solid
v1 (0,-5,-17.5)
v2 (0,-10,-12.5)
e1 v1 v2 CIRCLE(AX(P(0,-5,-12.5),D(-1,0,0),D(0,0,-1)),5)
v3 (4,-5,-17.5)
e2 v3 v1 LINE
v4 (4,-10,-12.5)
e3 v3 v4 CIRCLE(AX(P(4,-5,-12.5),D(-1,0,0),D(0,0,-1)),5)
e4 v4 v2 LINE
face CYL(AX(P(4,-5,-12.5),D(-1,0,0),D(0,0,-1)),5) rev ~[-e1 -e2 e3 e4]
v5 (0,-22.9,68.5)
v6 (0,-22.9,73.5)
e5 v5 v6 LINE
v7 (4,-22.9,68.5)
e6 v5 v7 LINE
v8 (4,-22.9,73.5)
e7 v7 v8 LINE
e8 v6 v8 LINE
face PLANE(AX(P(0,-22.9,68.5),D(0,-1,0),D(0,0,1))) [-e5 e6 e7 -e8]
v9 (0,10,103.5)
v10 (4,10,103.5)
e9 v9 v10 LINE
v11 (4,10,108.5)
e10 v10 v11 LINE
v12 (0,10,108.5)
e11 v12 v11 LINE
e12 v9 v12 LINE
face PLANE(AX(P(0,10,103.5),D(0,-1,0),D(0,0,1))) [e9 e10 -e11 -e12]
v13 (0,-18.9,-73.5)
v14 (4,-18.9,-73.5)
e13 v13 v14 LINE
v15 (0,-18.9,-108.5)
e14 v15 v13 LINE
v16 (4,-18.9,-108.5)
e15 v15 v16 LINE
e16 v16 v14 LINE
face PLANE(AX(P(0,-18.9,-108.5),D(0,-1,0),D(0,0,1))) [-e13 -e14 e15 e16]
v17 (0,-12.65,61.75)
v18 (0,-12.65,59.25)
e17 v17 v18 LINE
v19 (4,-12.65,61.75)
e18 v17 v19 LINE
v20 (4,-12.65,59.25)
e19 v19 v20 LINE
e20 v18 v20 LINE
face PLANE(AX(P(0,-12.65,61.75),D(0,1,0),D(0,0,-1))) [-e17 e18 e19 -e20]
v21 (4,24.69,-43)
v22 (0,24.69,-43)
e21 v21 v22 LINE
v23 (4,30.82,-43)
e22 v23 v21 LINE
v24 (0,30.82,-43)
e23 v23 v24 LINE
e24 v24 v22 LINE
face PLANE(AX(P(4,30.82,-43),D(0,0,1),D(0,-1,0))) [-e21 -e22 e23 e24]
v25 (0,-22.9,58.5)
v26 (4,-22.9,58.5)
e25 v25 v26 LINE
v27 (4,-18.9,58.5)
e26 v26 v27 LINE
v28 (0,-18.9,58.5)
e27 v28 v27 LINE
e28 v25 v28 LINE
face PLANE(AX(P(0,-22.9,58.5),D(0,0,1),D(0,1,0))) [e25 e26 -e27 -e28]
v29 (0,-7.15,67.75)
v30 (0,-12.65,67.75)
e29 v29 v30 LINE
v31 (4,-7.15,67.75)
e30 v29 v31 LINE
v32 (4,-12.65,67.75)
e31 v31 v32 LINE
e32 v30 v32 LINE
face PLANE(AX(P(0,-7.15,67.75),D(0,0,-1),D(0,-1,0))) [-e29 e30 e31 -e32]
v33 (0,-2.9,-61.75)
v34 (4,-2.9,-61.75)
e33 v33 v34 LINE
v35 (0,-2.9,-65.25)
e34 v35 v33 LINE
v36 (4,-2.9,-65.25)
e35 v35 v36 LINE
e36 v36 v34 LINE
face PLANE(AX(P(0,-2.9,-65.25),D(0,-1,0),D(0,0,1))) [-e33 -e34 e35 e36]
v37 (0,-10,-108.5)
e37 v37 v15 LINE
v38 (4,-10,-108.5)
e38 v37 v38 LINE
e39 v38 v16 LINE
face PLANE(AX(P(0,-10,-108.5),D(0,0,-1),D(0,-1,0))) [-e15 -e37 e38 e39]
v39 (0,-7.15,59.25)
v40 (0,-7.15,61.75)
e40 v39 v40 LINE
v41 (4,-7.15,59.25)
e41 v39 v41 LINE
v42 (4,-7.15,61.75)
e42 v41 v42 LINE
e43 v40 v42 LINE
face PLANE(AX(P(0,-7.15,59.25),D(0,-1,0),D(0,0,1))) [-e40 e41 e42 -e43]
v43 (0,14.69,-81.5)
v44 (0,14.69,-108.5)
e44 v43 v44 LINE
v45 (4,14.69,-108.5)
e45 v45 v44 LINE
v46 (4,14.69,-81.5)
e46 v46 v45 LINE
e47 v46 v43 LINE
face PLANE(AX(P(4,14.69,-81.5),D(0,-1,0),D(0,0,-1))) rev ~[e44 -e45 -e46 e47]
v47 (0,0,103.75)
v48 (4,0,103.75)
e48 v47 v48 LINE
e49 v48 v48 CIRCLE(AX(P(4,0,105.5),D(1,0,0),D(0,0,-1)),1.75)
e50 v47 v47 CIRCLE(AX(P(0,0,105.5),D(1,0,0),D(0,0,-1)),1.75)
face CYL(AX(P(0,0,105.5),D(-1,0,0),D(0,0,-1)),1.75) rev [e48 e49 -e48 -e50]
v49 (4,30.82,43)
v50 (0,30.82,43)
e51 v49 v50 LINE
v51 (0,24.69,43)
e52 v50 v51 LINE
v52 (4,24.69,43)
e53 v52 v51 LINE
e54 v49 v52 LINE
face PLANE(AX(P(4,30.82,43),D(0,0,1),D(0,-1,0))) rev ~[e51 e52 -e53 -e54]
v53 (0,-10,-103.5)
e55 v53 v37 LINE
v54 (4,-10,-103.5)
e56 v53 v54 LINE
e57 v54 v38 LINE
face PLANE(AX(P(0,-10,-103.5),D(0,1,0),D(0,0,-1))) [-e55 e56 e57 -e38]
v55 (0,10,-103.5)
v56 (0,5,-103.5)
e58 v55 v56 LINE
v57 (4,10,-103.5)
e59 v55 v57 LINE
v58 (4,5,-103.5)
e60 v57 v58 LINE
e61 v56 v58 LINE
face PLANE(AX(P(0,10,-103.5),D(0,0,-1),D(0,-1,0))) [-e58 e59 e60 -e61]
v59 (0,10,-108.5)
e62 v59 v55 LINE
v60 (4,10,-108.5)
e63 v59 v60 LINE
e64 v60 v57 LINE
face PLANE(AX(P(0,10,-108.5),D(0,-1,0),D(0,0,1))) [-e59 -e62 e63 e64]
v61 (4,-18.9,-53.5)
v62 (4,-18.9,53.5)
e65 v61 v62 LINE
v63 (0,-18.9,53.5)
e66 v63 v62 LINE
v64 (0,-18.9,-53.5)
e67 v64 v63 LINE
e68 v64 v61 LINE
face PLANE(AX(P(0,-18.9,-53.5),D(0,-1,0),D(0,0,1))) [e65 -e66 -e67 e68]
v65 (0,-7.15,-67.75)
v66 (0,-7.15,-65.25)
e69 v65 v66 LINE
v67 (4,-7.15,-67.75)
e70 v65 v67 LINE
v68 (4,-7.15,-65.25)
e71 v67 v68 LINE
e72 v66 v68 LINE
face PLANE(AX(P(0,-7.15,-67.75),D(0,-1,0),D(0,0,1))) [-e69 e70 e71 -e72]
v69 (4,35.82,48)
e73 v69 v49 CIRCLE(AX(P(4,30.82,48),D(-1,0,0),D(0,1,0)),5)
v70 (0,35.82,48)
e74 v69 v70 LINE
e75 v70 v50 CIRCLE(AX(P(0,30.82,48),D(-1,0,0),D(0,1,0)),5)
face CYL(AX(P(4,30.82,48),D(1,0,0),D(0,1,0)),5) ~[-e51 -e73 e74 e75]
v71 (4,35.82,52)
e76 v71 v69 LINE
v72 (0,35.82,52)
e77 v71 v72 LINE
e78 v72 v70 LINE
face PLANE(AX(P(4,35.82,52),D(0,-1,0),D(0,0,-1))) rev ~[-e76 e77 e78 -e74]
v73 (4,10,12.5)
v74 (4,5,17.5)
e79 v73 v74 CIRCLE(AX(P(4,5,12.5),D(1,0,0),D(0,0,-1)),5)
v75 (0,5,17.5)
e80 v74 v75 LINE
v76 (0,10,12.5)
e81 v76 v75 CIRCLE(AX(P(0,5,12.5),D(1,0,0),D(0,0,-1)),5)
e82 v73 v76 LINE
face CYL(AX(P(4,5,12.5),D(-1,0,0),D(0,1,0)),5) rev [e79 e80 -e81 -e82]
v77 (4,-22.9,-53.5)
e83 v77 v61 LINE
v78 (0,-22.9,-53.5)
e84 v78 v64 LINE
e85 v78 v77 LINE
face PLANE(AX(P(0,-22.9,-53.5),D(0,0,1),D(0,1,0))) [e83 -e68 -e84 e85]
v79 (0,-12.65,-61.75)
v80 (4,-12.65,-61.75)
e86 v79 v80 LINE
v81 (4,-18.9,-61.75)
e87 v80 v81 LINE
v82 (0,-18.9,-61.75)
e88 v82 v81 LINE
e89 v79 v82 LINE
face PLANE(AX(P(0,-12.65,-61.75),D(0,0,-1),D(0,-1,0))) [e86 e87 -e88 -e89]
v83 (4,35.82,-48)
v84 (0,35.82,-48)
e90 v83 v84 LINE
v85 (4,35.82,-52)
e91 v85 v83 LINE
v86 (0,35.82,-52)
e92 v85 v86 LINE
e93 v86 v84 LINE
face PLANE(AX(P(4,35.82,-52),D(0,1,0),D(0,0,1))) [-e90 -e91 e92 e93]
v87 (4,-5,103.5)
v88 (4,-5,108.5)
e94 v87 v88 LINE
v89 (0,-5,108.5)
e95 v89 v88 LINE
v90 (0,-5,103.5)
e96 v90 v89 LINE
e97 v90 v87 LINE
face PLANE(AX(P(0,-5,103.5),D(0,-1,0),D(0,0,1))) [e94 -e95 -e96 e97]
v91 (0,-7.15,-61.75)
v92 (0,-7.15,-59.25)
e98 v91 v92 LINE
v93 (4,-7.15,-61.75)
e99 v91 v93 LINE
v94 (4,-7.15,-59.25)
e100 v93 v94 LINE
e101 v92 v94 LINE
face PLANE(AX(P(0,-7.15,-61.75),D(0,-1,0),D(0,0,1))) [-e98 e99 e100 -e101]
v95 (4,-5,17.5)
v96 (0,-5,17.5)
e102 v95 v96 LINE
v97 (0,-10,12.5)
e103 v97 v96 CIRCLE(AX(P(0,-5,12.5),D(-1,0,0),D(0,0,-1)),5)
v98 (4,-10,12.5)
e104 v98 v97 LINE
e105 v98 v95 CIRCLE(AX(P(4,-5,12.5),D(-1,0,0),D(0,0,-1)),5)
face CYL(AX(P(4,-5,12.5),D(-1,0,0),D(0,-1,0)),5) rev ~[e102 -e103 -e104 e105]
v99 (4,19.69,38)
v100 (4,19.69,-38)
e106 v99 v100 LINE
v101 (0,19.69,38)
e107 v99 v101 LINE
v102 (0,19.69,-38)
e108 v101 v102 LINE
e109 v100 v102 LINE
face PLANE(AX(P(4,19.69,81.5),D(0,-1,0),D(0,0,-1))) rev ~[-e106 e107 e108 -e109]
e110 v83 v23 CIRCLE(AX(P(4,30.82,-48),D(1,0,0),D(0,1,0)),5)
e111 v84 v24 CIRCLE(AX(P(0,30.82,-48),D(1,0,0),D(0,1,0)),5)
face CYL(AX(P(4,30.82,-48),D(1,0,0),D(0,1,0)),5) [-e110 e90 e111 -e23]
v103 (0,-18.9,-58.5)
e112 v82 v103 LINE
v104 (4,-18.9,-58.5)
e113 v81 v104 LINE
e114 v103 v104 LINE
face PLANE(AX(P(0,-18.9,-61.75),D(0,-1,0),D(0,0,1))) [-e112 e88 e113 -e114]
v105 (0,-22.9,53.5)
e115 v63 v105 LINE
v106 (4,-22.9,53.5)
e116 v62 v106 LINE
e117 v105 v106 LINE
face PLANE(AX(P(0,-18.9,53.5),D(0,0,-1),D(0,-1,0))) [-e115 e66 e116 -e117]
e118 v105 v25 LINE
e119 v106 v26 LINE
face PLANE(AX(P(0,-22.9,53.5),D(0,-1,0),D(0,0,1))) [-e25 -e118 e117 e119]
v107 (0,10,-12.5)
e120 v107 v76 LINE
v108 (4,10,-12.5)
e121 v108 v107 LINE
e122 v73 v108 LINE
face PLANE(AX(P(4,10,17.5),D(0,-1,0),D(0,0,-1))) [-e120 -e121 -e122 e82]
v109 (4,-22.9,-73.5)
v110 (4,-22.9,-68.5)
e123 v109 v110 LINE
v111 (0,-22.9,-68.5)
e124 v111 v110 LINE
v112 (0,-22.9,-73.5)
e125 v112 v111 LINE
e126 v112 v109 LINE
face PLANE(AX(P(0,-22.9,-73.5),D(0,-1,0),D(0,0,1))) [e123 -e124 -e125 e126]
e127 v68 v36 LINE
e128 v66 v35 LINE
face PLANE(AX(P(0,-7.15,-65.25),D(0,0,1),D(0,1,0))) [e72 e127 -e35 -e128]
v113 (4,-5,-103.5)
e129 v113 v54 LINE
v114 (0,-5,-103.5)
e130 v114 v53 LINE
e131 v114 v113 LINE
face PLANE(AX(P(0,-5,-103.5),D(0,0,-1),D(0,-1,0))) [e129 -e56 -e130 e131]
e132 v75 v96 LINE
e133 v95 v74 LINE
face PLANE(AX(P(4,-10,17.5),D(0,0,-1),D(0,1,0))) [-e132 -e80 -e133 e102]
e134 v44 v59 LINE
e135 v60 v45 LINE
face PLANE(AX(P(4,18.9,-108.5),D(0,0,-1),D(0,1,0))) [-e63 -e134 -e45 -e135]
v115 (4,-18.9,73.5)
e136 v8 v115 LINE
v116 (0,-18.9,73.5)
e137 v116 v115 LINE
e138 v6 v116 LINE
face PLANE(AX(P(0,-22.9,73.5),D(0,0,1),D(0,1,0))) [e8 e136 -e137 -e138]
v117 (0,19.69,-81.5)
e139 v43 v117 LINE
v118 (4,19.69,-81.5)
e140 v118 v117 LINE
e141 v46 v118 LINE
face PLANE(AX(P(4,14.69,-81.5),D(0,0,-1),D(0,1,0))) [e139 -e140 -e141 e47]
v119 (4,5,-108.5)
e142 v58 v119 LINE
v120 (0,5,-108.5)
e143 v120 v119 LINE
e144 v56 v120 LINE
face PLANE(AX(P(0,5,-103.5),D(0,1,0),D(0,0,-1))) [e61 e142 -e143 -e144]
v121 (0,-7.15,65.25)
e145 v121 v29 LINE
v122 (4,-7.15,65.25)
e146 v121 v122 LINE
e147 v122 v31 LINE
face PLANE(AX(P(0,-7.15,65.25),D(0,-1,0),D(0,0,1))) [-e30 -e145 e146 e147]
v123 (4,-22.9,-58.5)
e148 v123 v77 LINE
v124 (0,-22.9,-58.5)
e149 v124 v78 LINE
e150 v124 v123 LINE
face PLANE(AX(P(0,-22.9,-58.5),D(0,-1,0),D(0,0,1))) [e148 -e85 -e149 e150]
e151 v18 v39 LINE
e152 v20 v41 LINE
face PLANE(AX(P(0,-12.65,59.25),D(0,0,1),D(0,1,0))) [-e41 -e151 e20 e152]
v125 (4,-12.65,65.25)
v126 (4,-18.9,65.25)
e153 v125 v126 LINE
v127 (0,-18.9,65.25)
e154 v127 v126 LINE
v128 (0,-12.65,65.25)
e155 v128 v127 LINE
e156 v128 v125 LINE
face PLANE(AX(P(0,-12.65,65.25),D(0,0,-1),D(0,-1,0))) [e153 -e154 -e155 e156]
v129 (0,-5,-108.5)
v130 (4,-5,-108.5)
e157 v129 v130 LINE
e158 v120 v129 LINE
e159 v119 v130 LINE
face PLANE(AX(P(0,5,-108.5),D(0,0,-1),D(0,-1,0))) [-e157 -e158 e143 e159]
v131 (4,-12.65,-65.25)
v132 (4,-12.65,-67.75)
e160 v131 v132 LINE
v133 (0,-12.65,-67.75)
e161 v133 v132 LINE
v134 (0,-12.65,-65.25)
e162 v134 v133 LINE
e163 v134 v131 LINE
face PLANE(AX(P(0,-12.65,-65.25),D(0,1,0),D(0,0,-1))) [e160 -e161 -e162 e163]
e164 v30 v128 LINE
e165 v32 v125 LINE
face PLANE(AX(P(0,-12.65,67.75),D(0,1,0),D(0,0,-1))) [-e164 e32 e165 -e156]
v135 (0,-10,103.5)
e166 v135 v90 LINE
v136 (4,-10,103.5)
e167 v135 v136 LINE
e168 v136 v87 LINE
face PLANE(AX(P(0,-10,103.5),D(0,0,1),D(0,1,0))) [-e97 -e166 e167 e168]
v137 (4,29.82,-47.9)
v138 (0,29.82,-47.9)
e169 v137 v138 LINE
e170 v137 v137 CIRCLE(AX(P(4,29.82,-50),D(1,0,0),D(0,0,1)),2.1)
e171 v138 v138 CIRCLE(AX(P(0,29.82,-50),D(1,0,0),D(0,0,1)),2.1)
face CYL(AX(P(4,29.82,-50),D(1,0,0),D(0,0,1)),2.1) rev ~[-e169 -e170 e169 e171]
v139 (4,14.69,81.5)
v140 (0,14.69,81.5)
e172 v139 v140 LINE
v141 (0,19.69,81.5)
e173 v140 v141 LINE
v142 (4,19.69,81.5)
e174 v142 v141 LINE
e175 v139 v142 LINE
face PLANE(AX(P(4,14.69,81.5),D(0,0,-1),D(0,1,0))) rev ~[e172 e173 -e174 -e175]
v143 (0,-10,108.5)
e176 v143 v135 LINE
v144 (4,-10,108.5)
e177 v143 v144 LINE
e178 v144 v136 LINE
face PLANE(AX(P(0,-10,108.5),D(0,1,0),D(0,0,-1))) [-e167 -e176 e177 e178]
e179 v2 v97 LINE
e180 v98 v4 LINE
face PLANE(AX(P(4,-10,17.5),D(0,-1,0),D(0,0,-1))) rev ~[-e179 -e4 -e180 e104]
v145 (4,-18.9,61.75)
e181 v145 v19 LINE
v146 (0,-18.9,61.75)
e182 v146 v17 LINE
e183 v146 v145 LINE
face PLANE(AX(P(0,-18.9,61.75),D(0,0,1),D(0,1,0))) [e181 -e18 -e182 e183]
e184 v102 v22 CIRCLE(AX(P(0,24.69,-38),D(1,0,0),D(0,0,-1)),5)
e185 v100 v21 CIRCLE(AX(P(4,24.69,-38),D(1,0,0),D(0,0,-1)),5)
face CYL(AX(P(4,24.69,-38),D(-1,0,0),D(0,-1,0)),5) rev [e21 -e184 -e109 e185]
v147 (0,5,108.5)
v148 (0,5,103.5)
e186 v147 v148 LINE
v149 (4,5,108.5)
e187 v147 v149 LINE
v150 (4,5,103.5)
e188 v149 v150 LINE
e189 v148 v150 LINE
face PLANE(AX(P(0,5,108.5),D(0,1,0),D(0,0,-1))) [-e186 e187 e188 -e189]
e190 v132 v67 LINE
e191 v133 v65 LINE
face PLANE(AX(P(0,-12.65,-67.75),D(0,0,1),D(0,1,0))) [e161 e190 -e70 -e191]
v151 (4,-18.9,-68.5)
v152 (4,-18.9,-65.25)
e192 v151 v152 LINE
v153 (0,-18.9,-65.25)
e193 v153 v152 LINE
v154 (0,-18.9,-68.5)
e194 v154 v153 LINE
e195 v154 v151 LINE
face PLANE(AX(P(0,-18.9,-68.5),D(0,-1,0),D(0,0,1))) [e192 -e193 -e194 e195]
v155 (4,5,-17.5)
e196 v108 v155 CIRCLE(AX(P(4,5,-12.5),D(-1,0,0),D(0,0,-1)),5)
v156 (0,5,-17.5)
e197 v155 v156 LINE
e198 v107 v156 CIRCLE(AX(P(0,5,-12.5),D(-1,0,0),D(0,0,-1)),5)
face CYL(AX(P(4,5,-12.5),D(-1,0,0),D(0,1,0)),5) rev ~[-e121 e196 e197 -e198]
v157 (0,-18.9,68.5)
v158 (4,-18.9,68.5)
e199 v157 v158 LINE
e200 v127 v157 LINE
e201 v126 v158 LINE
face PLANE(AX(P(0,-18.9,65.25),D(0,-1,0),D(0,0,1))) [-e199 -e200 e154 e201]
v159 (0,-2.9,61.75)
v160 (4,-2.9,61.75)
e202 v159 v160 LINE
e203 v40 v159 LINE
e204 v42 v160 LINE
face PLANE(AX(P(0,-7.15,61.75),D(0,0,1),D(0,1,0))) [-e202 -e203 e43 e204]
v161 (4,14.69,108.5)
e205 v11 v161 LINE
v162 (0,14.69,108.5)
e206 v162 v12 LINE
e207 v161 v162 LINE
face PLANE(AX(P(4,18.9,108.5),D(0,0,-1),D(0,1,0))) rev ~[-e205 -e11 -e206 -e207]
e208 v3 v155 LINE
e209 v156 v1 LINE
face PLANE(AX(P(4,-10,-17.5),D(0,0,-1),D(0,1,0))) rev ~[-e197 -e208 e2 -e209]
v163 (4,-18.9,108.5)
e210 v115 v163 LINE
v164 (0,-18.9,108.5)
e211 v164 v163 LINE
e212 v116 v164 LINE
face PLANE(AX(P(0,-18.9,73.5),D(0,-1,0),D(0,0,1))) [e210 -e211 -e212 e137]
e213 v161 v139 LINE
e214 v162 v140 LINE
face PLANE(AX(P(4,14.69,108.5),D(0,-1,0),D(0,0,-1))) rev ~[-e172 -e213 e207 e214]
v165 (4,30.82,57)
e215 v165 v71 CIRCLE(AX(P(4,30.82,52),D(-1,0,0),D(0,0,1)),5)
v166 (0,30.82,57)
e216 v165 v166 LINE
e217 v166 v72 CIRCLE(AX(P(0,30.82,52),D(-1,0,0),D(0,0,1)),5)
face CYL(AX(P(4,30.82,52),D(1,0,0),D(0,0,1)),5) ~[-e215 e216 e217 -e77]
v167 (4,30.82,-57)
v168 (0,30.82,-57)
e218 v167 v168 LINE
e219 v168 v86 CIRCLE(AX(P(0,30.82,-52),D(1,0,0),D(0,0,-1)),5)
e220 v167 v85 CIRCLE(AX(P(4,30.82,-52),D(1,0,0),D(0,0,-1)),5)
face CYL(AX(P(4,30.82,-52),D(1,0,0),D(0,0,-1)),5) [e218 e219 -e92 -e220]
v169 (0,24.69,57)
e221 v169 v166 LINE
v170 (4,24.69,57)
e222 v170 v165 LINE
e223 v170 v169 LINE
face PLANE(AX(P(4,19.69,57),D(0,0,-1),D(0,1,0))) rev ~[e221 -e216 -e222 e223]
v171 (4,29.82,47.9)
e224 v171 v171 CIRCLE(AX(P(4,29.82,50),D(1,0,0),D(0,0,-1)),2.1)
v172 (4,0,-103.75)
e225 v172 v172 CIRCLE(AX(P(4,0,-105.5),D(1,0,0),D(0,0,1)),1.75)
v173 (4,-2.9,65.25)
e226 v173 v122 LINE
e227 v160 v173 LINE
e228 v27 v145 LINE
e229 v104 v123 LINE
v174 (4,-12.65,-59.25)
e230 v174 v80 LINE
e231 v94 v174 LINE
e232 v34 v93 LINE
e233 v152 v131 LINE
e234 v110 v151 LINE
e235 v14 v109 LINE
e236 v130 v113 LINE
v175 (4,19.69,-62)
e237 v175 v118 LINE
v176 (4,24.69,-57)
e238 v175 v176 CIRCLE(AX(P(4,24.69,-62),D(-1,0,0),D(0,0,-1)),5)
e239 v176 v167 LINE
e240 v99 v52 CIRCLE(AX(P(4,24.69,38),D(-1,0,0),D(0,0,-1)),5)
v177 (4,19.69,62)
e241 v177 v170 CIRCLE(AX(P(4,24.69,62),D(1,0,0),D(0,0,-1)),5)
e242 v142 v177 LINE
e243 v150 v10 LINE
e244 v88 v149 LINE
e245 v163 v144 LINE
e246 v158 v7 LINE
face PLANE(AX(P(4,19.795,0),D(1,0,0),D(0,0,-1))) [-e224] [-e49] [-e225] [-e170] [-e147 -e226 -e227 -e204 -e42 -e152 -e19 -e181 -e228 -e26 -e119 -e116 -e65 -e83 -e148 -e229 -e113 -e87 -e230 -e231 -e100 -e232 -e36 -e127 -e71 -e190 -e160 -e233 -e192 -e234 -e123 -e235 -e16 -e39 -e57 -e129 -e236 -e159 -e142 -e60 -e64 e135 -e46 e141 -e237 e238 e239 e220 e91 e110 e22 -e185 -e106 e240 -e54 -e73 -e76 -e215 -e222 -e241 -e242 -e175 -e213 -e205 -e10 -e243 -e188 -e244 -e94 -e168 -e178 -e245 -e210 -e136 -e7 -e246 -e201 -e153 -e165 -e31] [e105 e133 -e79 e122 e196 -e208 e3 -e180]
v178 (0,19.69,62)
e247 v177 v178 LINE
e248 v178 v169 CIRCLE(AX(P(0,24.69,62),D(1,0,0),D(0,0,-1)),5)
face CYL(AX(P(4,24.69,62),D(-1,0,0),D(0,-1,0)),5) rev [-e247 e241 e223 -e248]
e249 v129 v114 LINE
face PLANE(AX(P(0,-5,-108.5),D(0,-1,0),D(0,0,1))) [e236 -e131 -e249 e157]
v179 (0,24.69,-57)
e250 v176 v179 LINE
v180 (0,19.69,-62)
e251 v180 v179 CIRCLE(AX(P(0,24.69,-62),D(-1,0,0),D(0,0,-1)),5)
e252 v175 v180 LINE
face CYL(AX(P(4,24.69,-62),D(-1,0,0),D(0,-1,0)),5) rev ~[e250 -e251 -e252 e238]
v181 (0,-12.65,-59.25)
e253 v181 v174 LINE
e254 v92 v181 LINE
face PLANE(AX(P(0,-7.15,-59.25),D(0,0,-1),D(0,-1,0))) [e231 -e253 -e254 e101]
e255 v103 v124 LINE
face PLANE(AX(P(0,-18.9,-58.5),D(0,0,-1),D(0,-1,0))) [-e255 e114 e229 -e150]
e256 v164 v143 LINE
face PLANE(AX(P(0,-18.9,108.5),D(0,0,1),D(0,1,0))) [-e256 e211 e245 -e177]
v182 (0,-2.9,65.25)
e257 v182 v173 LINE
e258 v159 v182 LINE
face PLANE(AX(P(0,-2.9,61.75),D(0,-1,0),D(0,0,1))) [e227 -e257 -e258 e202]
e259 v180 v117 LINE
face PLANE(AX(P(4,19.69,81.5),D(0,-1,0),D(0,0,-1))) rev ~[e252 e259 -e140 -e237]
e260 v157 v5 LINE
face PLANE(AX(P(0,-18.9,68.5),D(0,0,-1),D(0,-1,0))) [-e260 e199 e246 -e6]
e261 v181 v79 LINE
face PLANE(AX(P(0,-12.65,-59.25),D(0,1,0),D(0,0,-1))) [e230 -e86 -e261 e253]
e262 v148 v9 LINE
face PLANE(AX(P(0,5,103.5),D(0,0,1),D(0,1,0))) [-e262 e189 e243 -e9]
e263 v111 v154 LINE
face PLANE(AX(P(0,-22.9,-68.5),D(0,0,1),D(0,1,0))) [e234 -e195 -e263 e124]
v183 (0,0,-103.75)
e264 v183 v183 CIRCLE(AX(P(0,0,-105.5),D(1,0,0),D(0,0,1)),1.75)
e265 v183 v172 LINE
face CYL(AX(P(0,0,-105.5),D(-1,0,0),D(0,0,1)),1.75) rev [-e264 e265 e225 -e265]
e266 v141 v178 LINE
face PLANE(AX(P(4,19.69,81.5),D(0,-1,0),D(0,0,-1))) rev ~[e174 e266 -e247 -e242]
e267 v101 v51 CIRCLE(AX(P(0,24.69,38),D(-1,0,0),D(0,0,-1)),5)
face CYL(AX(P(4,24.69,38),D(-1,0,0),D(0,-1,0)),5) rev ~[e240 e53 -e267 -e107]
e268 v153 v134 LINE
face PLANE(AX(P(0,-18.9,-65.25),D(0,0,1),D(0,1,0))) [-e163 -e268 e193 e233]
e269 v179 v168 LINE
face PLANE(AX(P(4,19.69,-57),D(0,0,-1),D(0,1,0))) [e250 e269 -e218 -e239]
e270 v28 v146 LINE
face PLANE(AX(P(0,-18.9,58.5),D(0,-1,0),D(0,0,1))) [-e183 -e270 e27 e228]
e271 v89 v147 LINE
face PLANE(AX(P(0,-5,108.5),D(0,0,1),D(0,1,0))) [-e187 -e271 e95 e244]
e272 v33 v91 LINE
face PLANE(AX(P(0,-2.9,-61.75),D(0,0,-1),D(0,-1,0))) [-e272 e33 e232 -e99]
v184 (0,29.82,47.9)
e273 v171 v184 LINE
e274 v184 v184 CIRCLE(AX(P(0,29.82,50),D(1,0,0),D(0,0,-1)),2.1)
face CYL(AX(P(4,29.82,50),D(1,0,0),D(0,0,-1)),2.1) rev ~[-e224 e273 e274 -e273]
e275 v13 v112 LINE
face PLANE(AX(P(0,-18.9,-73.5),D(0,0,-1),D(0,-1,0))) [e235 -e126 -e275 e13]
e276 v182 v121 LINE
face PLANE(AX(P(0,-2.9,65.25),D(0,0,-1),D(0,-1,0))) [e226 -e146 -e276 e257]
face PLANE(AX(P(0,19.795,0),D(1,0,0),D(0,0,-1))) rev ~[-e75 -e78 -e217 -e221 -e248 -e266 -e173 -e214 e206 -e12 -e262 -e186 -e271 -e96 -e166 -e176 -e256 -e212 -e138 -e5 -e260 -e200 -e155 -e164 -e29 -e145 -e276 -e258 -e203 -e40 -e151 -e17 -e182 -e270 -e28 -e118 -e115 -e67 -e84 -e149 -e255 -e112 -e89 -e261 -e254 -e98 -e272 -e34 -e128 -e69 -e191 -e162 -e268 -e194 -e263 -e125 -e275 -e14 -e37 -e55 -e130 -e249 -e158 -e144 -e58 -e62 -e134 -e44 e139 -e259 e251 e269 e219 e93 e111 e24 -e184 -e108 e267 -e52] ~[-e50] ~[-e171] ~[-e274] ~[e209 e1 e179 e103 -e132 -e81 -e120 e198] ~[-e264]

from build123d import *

# Parameters (mm, degrees)
ESBO_O1_R                = 1.75
RESSALTO_EXTRUS_O1_DEPTH = 4
ESBO_O2_W                = 35
ESBO_O2_H                = 20
CORTE_EXTRUS_O1_DEPTH    = 111.962426073
ESBO_O3_W                = 217
ESBO_O3_H                = 1.79
RESSALTO_EXTRUS_O2_DEPTH = 4
ESBO_O4_W                = 27
ESBO_O4_H                = 6
CORTE_EXTRUS_O2_DEPTH    = 111.962426073
ESBO_O5_W                = 163
ESBO_O5_H                = 1
CORTE_EXTRUS_O3_DEPTH    = 111.962426073
ESBO_O6_R                = 2.1
RESSALTO_EXTRUS_O4_DEPTH = 4
FILETE1_R                = 5
FILETE2_R                = 5


with BuildPart() as part:
    # Esboço1 → Ressalto-extrusão1 (new body)
    with BuildSketch(Plane(origin=(0, 0, 0), x_dir=(0, 0, -1), z_dir=(1, 0, 0))):
        Polygon((-108.5, 18.9), (108.5, 18.9), (108.5, 10), (103.5, 10), (103.5, 5), (108.5, 5), (108.5, -5), (103.5, -5), (103.5, -10), (108.5, -10), (108.5, -18.9), (73.5, -18.9), (73.5, -22.9), (68.5, -22.9), (68.5, -18.9), (65.25, -18.9), (65.25, -12.65), (67.75, -12.65), (67.75, -7.15), (65.25, -7.15), (65.25, -2.9), (61.75, -2.9), (61.75, -7.15), (59.25, -7.15), (59.25, -12.65), (61.75, -12.65), (61.75, -18.9), (58.5, -18.9), (58.5, -22.9), (53.5, -22.9), (53.5, -18.9), (-53.5, -18.9), (-53.5, -22.9), (-58.5, -22.9), (-58.5, -18.9), (-61.75, -18.9), (-61.75, -12.65), (-59.25, -12.65), (-59.25, -7.15), (-61.75, -7.15), (-61.75, -2.9), (-65.25, -2.9), (-65.25, -7.15), (-67.75, -7.15), (-67.75, -12.65), (-65.25, -12.65), (-65.25, -18.9), (-68.5, -18.9), (-68.5, -22.9), (-73.5, -22.9), (-73.5, -18.9), (-108.5, -18.9), (-108.5, -10), (-103.5, -10), (-103.5, -5), (-108.5, -5), (-108.5, 5), (-103.5, 5), (-103.5, 10), (-108.5, 10), align=None)
        with Locations((-105.5, 0)):
            Circle(ESBO_O1_R, mode=Mode.SUBTRACT)
        with Locations(Location((105.5, 0, 0), (0, 0, 180))):
            Circle(ESBO_O1_R, mode=Mode.SUBTRACT)
    extrude(amount=RESSALTO_EXTRUS_O1_DEPTH)

    # Esboço2 → Corte-extrusão1 (cut, through all)
    with BuildSketch(Plane(origin=(4, 0, 0), x_dir=(0, 0, -1), z_dir=(1, 0, 0))):
        Rectangle(ESBO_O2_W, ESBO_O2_H)
    extrude(amount=-CORTE_EXTRUS_O1_DEPTH, mode=Mode.SUBTRACT)

    # Esboço3 → Ressalto-extrusão2 (add, through all)
    with BuildSketch(Plane(origin=(4, 0, 0), x_dir=(0, 0, -1), z_dir=(1, 0, 0))):
        with Locations((0, 19.795)):
            Rectangle(ESBO_O3_W, ESBO_O3_H)
    extrude(amount=-RESSALTO_EXTRUS_O2_DEPTH)

    # Esboço4 → Corte-extrusão2 (cut, through all)
    with BuildSketch(Plane(origin=(4, 0, 0), x_dir=(0, 0, -1), z_dir=(1, 0, 0))):
        with Locations((-95, 17.69)):
            Rectangle(ESBO_O4_W, ESBO_O4_H)
        with Locations((95, 17.69)):
            Rectangle(ESBO_O4_W, ESBO_O4_H)
    extrude(amount=-CORTE_EXTRUS_O2_DEPTH, mode=Mode.SUBTRACT)

    # Esboço5 → Corte-extrusão3 (cut, through all)
    with BuildSketch(Plane(origin=(4, 0, 0), x_dir=(0, 0, -1), z_dir=(1, 0, 0))):
        with Locations((0, 20.19)):
            Rectangle(ESBO_O5_W, ESBO_O5_H)
    extrude(amount=-CORTE_EXTRUS_O3_DEPTH, mode=Mode.SUBTRACT)

    # Esboço6 → Ressalto-extrusão4 (add, through all)
    # profile 1 of 2: a face of its own
    with BuildSketch(Plane(origin=(4, 0, 0), x_dir=(0, 0, -1), z_dir=(1, 0, 0))):
        with BuildLine():
            Line((-57, 19.69), (-57, 30.82))
            ThreePointArc((-57, 30.82), (-55.535533906, 34.355533906), (-52, 35.82))
            Line((-52, 35.82), (-48, 35.82))
            ThreePointArc((-48, 35.82), (-44.464466094, 34.355533906), (-43, 30.82))
            Line((-43, 30.82), (-43, 19.69))
            Line((-43, 19.69), (-57, 19.69))
        make_face()
        with Locations((-50, 29.82)):
            Circle(ESBO_O6_R, mode=Mode.SUBTRACT)
    # profile 2 of 2: a face of its own
    with BuildSketch(Plane(origin=(4, 0, 0), x_dir=(0, 0, -1), z_dir=(1, 0, 0))):
        with BuildLine():
            Line((43, 30.82), (43, 19.69))
            Line((43, 19.69), (57, 19.69))
            Line((57, 19.69), (57, 30.82))
            ThreePointArc((57, 30.82), (55.535533906, 34.355533906), (52, 35.82))
            Line((52, 35.82), (48, 35.82))
            ThreePointArc((48, 35.82), (44.464466094, 34.355533906), (43, 30.82))
        make_face()
        with Locations(Location((50, 29.82, 0), (0, 0, 180))):
            Circle(ESBO_O6_R, mode=Mode.SUBTRACT)
    extrude(amount=-RESSALTO_EXTRUS_O4_DEPTH)

    # Filete1
    filete1_edges = [part.edges().sort_by_distance(p)[0] for p in [
        (2, 19.69, 43),
        (2, 19.69, 57),
        (2, 19.69, -57),
        (2, 19.69, -43),
    ]]
    fillet(filete1_edges, radius=FILETE1_R)

    # Filete2
    filete2_edges = [part.edges().sort_by_distance(p)[0] for p in [
        (2, 10, -17.5),
        (2, -10, -17.5),
        (2, -10, 17.5),
        (2, 10, 17.5),
    ]]
    fillet(filete2_edges, radius=FILETE2_R)


solid = part.part
